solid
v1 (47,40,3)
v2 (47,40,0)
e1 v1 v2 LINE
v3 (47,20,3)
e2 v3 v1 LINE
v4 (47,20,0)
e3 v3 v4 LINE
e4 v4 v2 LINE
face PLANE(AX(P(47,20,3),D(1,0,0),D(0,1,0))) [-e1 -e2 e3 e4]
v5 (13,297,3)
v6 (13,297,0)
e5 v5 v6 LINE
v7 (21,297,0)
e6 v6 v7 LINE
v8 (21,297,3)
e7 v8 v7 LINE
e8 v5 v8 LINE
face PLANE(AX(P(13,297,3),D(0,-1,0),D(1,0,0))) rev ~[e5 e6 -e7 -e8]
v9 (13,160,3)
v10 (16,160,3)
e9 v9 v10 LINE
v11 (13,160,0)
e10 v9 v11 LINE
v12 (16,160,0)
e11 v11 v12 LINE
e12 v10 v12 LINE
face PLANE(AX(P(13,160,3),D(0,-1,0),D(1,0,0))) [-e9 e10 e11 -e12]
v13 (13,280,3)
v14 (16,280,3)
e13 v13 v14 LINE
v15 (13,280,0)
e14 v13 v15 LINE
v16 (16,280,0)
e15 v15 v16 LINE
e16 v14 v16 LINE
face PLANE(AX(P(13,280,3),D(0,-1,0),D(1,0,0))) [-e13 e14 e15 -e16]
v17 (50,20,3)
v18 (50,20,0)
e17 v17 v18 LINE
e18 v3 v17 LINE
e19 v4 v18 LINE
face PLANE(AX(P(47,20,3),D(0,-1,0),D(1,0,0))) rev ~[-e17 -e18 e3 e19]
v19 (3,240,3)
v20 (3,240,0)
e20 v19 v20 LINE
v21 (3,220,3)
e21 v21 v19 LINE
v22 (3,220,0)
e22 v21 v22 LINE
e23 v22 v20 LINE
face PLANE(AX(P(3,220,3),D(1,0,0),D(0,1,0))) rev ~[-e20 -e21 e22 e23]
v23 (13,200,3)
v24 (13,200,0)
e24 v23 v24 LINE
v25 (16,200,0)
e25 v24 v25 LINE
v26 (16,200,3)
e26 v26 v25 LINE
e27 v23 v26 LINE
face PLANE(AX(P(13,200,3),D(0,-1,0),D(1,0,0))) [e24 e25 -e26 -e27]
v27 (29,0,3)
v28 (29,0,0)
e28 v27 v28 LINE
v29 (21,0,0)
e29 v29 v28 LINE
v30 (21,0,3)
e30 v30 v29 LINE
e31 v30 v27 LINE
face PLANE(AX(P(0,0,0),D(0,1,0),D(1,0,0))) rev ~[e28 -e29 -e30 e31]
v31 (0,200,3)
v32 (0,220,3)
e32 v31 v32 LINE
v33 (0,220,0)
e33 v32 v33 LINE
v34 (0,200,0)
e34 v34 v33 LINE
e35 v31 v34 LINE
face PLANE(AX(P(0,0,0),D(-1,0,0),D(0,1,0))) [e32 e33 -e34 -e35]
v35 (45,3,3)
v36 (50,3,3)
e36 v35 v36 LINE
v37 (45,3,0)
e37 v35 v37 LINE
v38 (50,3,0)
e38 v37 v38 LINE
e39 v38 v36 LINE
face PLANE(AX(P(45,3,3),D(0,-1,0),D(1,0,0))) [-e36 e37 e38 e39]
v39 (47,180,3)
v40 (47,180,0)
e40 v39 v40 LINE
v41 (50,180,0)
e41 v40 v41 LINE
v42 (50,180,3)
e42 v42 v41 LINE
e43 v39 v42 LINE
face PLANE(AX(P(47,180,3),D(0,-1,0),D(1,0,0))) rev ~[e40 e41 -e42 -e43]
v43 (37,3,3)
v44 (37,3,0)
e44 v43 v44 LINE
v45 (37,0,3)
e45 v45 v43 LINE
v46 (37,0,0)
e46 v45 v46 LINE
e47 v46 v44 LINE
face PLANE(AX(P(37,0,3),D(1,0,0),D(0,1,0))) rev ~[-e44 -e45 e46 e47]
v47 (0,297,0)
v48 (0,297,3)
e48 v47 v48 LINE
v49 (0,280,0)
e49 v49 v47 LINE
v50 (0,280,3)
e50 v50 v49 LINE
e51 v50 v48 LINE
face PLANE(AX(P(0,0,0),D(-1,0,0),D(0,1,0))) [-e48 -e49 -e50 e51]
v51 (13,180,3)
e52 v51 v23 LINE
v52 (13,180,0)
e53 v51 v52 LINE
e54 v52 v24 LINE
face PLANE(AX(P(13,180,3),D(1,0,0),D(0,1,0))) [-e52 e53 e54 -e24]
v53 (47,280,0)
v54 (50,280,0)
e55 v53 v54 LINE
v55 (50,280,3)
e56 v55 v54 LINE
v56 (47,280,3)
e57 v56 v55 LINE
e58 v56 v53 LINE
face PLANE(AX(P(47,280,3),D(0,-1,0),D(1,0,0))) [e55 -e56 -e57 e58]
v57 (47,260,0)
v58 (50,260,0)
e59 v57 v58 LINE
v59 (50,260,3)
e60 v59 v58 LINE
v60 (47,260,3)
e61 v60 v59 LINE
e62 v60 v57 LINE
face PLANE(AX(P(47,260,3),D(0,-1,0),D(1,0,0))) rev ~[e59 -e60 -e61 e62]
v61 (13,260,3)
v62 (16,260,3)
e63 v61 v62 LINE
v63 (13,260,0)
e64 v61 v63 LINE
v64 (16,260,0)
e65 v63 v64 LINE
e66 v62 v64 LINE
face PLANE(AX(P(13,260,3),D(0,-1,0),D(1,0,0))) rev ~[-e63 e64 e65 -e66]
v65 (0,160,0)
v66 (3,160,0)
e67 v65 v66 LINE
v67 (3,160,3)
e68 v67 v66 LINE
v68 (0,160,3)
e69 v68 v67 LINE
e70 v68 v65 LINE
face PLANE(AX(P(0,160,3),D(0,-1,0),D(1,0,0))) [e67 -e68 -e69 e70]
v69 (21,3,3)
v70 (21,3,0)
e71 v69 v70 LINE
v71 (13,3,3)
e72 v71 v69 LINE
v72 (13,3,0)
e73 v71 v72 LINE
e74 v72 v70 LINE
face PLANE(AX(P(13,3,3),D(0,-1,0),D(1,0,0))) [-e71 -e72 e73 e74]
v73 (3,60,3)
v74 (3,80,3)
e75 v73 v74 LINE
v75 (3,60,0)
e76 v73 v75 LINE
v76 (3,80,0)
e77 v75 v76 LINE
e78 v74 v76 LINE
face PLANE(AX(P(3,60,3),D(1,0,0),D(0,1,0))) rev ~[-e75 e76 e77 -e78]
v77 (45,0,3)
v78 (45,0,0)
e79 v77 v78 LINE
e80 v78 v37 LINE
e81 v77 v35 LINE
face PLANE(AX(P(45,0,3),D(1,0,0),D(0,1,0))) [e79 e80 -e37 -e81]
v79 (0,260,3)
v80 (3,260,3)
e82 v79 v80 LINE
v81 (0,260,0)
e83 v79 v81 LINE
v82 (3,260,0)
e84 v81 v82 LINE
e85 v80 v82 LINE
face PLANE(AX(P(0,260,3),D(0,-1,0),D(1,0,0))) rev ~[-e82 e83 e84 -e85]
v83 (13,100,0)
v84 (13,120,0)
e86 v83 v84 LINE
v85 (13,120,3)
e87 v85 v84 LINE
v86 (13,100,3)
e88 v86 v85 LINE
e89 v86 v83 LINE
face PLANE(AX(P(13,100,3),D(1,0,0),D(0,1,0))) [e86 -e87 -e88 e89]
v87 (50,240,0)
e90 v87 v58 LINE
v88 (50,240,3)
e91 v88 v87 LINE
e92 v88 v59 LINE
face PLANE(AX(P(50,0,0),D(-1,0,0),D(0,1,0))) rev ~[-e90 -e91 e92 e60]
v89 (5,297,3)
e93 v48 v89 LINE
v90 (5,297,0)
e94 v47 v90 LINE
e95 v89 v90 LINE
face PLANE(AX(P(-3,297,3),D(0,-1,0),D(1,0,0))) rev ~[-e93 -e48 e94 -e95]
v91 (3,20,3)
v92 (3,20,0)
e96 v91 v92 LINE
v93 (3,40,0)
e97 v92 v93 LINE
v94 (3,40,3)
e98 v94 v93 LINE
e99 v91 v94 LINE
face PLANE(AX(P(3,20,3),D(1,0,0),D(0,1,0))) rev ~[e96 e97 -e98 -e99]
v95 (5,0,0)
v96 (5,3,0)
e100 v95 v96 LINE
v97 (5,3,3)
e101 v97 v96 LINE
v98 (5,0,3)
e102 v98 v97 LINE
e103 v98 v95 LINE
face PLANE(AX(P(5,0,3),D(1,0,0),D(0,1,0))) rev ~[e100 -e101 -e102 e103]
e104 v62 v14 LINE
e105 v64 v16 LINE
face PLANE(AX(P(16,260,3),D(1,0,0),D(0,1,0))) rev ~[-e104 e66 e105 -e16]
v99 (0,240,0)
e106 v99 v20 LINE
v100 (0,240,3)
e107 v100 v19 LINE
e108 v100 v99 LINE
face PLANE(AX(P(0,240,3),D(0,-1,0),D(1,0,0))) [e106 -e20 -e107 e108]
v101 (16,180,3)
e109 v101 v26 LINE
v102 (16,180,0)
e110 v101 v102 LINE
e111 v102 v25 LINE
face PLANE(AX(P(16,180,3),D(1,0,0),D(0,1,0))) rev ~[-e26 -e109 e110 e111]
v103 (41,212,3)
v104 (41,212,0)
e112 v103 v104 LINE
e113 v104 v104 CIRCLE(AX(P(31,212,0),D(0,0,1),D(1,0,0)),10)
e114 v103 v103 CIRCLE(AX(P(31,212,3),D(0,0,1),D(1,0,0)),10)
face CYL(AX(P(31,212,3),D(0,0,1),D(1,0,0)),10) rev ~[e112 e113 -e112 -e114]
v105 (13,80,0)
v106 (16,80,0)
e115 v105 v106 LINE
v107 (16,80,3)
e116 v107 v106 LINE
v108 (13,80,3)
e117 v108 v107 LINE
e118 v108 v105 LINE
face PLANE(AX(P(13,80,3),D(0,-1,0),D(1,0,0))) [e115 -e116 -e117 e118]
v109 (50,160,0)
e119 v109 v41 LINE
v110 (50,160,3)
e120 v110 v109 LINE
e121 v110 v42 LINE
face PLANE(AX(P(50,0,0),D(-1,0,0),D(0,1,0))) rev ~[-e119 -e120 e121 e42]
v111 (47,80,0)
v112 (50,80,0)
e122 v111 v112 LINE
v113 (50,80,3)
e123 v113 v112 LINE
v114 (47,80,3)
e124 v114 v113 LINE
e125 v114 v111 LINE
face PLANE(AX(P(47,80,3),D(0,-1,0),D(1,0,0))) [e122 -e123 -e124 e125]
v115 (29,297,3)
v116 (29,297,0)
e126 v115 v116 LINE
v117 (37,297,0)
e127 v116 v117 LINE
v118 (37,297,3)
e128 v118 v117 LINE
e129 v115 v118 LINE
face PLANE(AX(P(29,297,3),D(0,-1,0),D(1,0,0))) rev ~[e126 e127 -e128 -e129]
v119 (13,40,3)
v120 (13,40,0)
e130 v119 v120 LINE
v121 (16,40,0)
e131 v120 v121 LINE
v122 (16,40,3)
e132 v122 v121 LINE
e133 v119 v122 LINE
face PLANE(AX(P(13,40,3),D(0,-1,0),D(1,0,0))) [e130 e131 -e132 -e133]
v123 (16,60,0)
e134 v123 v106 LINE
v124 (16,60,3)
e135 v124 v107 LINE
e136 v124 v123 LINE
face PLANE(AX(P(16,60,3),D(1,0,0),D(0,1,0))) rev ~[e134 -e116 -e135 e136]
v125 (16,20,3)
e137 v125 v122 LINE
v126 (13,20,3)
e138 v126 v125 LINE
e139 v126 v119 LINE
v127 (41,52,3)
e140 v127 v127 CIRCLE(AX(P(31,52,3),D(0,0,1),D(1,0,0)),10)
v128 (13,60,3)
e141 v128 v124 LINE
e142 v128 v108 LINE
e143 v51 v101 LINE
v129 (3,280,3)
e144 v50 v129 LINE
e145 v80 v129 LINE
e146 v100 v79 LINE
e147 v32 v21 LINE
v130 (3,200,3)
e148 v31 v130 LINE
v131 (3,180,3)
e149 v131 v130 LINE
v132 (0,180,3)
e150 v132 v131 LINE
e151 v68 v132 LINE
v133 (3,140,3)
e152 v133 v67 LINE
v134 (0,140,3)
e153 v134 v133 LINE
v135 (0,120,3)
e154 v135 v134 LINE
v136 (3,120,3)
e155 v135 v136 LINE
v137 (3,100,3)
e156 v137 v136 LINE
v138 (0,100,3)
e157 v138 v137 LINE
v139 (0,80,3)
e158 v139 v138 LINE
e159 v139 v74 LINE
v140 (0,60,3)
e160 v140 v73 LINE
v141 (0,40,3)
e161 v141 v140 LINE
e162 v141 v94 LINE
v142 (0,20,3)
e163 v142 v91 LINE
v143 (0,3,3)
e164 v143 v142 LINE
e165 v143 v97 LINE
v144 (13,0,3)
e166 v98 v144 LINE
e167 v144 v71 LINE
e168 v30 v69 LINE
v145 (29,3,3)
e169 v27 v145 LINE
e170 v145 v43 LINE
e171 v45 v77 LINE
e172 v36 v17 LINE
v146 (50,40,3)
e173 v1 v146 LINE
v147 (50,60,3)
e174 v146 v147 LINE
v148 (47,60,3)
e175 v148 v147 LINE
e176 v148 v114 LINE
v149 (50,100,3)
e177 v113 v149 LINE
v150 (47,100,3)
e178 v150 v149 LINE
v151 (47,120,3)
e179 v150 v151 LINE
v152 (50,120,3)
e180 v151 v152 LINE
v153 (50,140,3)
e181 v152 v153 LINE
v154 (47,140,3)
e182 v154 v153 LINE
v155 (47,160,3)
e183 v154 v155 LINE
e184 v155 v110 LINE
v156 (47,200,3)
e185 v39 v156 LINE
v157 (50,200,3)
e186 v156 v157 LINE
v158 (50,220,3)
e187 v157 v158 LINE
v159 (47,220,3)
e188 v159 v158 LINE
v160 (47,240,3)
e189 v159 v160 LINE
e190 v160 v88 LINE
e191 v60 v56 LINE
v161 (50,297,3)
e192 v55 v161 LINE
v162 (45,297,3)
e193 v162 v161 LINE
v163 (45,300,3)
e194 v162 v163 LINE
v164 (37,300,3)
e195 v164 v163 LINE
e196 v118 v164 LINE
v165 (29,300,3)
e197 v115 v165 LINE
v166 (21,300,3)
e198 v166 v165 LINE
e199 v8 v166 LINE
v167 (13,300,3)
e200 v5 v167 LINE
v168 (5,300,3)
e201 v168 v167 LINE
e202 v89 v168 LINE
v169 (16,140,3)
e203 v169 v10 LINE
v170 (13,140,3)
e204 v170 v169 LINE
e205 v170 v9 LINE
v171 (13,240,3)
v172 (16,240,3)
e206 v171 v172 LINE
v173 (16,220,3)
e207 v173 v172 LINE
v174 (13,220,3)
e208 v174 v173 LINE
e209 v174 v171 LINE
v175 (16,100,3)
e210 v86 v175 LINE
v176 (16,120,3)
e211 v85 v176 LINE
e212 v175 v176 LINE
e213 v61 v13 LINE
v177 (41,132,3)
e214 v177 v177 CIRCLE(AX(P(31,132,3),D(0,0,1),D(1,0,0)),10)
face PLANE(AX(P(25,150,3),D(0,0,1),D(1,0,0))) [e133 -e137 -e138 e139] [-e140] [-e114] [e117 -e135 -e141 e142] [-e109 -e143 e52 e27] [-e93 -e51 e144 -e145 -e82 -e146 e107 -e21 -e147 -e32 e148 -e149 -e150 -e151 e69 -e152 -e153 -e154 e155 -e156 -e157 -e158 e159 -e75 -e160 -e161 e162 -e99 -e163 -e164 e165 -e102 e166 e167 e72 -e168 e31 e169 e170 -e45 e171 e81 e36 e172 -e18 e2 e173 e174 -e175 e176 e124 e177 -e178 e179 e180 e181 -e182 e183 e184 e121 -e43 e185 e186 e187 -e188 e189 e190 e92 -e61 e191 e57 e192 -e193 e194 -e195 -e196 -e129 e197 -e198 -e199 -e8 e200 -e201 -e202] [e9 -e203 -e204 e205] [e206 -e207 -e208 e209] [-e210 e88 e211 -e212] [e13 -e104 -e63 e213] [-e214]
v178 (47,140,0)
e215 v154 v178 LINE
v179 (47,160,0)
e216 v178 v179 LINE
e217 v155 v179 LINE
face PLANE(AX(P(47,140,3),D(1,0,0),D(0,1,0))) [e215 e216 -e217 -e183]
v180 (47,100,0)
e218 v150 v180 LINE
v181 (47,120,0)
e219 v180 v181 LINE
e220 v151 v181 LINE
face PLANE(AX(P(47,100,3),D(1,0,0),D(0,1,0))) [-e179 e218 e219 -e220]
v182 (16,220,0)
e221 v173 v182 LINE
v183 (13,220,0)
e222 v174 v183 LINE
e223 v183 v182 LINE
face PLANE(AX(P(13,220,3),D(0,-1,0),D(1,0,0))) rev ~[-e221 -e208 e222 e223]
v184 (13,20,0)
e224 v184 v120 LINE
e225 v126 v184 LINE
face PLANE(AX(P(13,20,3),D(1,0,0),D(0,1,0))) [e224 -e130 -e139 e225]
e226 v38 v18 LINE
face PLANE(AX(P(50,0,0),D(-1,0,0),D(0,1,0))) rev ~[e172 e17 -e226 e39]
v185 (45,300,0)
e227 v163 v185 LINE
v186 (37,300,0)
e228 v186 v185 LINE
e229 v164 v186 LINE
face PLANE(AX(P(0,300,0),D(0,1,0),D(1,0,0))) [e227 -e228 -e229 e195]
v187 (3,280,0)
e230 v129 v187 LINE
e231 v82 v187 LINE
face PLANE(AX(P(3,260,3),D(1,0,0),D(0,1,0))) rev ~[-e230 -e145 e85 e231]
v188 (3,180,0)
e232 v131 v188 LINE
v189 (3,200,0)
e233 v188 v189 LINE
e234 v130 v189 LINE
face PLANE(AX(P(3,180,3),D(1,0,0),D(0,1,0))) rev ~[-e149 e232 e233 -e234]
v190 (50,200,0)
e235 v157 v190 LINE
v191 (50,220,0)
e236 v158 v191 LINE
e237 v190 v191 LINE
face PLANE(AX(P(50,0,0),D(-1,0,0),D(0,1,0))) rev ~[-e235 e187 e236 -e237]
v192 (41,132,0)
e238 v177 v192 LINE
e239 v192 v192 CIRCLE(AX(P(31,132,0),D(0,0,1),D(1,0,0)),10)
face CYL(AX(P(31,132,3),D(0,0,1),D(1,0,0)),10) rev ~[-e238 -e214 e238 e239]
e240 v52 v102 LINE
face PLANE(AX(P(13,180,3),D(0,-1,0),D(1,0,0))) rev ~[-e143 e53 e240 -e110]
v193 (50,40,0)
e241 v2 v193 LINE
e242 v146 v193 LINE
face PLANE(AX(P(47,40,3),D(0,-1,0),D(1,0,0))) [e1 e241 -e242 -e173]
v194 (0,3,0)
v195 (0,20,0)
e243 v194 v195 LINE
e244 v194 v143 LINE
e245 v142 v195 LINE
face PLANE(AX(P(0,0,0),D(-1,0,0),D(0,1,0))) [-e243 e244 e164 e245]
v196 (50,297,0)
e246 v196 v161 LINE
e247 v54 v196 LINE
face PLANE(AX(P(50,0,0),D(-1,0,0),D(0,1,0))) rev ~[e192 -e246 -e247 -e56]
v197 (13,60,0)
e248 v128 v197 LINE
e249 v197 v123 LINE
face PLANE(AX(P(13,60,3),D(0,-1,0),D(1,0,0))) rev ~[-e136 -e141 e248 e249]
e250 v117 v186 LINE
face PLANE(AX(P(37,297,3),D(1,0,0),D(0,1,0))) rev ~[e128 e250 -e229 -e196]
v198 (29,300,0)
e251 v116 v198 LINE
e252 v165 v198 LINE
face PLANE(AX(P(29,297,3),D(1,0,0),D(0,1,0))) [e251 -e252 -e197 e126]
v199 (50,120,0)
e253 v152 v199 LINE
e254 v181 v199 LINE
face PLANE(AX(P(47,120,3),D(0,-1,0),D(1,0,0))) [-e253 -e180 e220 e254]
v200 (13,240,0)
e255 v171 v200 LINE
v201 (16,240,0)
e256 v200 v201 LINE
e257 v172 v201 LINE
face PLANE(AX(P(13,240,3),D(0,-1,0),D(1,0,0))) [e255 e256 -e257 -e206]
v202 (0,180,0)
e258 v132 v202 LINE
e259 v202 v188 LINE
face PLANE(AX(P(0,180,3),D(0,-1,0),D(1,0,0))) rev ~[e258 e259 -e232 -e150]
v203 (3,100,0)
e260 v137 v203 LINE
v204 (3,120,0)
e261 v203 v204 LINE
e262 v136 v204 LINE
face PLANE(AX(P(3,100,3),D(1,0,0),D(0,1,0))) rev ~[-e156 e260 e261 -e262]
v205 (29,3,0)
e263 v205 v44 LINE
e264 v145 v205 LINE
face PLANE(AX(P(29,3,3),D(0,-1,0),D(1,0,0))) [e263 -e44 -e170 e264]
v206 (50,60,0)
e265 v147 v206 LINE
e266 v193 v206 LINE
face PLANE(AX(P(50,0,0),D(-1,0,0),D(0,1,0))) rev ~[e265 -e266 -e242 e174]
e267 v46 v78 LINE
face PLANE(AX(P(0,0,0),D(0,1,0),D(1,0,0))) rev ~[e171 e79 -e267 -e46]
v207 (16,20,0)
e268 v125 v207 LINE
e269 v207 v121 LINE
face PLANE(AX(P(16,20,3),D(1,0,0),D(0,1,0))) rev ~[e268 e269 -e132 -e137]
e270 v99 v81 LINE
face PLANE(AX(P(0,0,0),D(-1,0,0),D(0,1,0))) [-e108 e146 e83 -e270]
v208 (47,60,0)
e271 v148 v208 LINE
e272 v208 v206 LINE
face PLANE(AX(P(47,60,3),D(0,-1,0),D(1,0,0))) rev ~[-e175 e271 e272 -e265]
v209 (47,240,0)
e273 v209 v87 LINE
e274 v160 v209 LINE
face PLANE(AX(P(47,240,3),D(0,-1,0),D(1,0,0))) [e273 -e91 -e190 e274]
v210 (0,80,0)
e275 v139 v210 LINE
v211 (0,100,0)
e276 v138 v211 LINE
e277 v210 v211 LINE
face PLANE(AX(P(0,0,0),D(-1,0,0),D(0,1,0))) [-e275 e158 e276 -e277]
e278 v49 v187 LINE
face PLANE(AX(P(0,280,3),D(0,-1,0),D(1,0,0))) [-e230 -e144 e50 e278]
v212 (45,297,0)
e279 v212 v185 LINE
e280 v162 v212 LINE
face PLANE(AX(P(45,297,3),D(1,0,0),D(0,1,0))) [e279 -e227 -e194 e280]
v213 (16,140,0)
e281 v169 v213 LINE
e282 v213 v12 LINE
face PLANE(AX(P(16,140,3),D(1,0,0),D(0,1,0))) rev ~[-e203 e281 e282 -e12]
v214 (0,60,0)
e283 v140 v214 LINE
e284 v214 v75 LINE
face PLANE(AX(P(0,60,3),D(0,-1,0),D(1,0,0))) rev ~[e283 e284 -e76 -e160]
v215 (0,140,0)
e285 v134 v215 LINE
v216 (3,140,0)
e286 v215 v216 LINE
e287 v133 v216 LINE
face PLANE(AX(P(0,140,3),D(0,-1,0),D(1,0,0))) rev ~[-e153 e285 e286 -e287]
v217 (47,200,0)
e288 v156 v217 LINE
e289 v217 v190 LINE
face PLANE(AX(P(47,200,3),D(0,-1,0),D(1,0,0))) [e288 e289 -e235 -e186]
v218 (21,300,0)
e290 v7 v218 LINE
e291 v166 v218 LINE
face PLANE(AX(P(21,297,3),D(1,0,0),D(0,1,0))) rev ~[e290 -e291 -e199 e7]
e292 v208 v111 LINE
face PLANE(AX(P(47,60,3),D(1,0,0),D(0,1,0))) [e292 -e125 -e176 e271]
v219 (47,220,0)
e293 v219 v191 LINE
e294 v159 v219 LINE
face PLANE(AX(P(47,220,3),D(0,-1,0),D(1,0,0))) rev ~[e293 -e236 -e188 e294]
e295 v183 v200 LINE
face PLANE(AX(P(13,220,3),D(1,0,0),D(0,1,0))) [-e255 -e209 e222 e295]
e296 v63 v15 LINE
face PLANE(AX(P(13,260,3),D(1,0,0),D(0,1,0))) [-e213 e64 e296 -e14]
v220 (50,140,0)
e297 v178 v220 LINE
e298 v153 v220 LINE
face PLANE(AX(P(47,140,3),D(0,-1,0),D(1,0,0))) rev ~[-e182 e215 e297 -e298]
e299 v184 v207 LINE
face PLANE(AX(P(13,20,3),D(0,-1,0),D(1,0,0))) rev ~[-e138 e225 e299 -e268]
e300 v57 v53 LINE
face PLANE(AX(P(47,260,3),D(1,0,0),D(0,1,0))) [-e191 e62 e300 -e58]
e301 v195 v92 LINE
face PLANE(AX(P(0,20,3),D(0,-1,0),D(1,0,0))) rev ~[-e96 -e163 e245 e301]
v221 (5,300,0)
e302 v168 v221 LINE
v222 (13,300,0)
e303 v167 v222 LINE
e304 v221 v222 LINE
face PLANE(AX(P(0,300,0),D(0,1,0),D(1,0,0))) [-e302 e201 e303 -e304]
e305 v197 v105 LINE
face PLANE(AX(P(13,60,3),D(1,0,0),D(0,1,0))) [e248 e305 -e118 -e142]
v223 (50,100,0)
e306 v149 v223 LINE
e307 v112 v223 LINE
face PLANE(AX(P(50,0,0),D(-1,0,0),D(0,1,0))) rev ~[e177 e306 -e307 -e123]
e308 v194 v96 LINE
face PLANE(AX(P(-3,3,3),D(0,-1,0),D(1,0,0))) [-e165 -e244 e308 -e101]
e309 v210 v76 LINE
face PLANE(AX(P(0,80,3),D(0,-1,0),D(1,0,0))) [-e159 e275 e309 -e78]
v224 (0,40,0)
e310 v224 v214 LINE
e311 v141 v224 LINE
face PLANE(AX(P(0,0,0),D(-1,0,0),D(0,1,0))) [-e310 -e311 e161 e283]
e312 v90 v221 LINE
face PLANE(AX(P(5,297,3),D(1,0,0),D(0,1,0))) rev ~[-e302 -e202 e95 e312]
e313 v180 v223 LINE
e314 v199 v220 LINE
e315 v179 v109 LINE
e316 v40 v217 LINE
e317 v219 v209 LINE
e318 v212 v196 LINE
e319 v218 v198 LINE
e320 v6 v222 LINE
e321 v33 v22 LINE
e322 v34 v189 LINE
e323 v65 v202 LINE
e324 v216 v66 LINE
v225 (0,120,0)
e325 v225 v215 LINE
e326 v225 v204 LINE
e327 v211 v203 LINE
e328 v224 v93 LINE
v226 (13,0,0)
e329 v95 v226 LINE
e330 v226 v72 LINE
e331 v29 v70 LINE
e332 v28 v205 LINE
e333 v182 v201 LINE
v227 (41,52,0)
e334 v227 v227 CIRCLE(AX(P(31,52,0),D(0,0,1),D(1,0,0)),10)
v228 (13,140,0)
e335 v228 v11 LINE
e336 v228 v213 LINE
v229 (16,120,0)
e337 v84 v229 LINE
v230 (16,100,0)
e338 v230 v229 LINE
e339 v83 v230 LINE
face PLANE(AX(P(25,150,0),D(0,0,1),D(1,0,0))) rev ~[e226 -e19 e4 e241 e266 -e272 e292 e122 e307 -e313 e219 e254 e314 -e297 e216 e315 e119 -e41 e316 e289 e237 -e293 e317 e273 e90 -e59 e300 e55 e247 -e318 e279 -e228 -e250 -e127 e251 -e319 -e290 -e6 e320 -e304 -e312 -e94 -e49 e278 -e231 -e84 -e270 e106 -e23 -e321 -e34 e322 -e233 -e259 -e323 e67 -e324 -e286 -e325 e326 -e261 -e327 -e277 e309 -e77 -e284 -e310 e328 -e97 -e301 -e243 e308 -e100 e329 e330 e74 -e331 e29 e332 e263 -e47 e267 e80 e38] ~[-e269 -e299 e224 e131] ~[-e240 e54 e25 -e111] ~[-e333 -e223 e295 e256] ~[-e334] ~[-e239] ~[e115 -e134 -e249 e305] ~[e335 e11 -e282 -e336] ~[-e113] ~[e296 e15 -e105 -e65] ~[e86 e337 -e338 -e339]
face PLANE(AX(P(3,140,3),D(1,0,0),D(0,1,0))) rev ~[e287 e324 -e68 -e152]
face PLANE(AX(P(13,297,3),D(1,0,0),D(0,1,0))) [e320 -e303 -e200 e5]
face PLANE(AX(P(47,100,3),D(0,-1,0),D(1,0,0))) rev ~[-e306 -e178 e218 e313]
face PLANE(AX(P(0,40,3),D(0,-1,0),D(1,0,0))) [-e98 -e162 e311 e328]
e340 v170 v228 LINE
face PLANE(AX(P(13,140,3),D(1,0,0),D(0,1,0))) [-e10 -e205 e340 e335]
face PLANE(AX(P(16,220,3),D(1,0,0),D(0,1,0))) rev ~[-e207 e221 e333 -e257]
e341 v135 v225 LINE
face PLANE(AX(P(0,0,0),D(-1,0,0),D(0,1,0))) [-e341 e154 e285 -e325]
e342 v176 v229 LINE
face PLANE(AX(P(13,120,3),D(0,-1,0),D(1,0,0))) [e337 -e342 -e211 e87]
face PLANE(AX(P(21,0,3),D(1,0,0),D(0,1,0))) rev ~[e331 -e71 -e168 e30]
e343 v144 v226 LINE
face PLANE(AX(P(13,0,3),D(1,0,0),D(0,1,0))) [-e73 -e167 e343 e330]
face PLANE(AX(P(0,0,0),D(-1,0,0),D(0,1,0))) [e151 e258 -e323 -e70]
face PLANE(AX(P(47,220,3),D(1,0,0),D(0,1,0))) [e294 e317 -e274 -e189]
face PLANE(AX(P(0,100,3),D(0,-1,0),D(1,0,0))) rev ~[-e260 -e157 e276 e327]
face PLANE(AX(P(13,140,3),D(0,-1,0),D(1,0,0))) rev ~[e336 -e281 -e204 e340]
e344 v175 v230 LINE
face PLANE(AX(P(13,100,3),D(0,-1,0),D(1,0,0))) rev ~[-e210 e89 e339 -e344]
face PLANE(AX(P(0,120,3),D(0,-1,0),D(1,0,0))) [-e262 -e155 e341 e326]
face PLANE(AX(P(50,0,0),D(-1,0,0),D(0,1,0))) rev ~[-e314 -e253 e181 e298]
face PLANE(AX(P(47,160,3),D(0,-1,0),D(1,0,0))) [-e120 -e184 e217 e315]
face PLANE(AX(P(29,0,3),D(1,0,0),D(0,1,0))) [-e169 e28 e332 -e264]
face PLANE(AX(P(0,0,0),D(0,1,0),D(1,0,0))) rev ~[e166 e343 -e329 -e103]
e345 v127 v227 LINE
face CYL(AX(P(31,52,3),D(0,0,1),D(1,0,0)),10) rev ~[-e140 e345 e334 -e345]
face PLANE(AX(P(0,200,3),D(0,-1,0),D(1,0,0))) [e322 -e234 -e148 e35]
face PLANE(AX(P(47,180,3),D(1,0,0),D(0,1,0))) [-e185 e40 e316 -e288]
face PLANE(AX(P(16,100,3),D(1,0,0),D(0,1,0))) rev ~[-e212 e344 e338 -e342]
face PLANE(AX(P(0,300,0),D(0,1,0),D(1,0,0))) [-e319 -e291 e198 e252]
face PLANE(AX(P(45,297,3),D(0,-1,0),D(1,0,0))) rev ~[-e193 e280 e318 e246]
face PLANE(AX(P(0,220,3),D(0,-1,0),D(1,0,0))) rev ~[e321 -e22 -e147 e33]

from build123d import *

# Parameters (mm, degrees)
SKETCH_W      = 50
SKETCH_H      = 300
PAD_DEPTH     = 3
SKETCH001_R   = 10
SKETCH001_W   = 3
SKETCH001_H   = 20
SKETCH001_W_2 = 8
SKETCH001_H_2 = 3
POCKET_DEPTH  = 3.001


with BuildPart() as part:
    # Sketch → Pad (new body)
    with BuildSketch(Plane.XY):
        with Locations((25, 150)):
            Rectangle(SKETCH_W, SKETCH_H)
    extrude(amount=PAD_DEPTH)

    # Sketch001 (on Face6 of Pad) → Pocket (cut, through all)
    with BuildSketch(Plane.XY.offset(3)):
        with Locations((31, 52)):
            Circle(SKETCH001_R)
        with Locations((31, 132)):
            Circle(SKETCH001_R)
        with Locations((31, 212)):
            Circle(SKETCH001_R)
        with Locations((1.5, 30)):
            Rectangle(SKETCH001_W, SKETCH001_H)
        with Locations((1.5, 70)):
            Rectangle(SKETCH001_W, SKETCH001_H)
        with Locations((1.5, 110)):
            Rectangle(SKETCH001_W, SKETCH001_H)
        with Locations((1.5, 150)):
            Rectangle(SKETCH001_W, SKETCH001_H)
        with Locations((1.5, 190)):
            Rectangle(SKETCH001_W, SKETCH001_H)
        with Locations((1.5, 230)):
            Rectangle(SKETCH001_W, SKETCH001_H)
        with Locations((1.5, 270)):
            Rectangle(SKETCH001_W, SKETCH001_H)
        with Locations((14.5, 30)):
            Rectangle(SKETCH001_W, SKETCH001_H)
        with Locations((14.5, 70)):
            Rectangle(SKETCH001_W, SKETCH001_H)
        with Locations((14.5, 110)):
            Rectangle(SKETCH001_W, SKETCH001_H)
        with Locations((14.5, 150)):
            Rectangle(SKETCH001_W, SKETCH001_H)
        with Locations((14.5, 190)):
            Rectangle(SKETCH001_W, SKETCH001_H)
        with Locations((14.5, 230)):
            Rectangle(SKETCH001_W, SKETCH001_H)
        with Locations((14.5, 270)):
            Rectangle(SKETCH001_W, SKETCH001_H)
        with Locations((48.5, 30)):
            Rectangle(SKETCH001_W, SKETCH001_H)
        with Locations((48.5, 70)):
            Rectangle(SKETCH001_W, SKETCH001_H)
        with Locations((48.5, 110)):
            Rectangle(SKETCH001_W, SKETCH001_H)
        with Locations((48.5, 150)):
            Rectangle(SKETCH001_W, SKETCH001_H)
        with Locations((48.5, 190)):
            Rectangle(SKETCH001_W, SKETCH001_H)
        with Locations((48.5, 230)):
            Rectangle(SKETCH001_W, SKETCH001_H)
        with Locations((48.5, 270)):
            Rectangle(SKETCH001_W, SKETCH001_H)
        with Locations((1, 1.5)):
            Rectangle(SKETCH001_W_2, SKETCH001_H_2)
        with Locations((17, 1.5)):
            Rectangle(SKETCH001_W_2, SKETCH001_H_2)
        with Locations((33, 1.5)):
            Rectangle(SKETCH001_W_2, SKETCH001_H_2)
        with Locations((49, 1.5)):
            Rectangle(SKETCH001_W_2, SKETCH001_H_2)
        with Locations((1, 298.5)):
            Rectangle(SKETCH001_W_2, SKETCH001_H_2)
        with Locations((17, 298.5)):
            Rectangle(SKETCH001_W_2, SKETCH001_H_2)
        with Locations((33, 298.5)):
            Rectangle(SKETCH001_W_2, SKETCH001_H_2)
        with Locations((49, 298.5)):
            Rectangle(SKETCH001_W_2, SKETCH001_H_2)
    extrude(amount=-POCKET_DEPTH, mode=Mode.SUBTRACT)


solid = part.part
